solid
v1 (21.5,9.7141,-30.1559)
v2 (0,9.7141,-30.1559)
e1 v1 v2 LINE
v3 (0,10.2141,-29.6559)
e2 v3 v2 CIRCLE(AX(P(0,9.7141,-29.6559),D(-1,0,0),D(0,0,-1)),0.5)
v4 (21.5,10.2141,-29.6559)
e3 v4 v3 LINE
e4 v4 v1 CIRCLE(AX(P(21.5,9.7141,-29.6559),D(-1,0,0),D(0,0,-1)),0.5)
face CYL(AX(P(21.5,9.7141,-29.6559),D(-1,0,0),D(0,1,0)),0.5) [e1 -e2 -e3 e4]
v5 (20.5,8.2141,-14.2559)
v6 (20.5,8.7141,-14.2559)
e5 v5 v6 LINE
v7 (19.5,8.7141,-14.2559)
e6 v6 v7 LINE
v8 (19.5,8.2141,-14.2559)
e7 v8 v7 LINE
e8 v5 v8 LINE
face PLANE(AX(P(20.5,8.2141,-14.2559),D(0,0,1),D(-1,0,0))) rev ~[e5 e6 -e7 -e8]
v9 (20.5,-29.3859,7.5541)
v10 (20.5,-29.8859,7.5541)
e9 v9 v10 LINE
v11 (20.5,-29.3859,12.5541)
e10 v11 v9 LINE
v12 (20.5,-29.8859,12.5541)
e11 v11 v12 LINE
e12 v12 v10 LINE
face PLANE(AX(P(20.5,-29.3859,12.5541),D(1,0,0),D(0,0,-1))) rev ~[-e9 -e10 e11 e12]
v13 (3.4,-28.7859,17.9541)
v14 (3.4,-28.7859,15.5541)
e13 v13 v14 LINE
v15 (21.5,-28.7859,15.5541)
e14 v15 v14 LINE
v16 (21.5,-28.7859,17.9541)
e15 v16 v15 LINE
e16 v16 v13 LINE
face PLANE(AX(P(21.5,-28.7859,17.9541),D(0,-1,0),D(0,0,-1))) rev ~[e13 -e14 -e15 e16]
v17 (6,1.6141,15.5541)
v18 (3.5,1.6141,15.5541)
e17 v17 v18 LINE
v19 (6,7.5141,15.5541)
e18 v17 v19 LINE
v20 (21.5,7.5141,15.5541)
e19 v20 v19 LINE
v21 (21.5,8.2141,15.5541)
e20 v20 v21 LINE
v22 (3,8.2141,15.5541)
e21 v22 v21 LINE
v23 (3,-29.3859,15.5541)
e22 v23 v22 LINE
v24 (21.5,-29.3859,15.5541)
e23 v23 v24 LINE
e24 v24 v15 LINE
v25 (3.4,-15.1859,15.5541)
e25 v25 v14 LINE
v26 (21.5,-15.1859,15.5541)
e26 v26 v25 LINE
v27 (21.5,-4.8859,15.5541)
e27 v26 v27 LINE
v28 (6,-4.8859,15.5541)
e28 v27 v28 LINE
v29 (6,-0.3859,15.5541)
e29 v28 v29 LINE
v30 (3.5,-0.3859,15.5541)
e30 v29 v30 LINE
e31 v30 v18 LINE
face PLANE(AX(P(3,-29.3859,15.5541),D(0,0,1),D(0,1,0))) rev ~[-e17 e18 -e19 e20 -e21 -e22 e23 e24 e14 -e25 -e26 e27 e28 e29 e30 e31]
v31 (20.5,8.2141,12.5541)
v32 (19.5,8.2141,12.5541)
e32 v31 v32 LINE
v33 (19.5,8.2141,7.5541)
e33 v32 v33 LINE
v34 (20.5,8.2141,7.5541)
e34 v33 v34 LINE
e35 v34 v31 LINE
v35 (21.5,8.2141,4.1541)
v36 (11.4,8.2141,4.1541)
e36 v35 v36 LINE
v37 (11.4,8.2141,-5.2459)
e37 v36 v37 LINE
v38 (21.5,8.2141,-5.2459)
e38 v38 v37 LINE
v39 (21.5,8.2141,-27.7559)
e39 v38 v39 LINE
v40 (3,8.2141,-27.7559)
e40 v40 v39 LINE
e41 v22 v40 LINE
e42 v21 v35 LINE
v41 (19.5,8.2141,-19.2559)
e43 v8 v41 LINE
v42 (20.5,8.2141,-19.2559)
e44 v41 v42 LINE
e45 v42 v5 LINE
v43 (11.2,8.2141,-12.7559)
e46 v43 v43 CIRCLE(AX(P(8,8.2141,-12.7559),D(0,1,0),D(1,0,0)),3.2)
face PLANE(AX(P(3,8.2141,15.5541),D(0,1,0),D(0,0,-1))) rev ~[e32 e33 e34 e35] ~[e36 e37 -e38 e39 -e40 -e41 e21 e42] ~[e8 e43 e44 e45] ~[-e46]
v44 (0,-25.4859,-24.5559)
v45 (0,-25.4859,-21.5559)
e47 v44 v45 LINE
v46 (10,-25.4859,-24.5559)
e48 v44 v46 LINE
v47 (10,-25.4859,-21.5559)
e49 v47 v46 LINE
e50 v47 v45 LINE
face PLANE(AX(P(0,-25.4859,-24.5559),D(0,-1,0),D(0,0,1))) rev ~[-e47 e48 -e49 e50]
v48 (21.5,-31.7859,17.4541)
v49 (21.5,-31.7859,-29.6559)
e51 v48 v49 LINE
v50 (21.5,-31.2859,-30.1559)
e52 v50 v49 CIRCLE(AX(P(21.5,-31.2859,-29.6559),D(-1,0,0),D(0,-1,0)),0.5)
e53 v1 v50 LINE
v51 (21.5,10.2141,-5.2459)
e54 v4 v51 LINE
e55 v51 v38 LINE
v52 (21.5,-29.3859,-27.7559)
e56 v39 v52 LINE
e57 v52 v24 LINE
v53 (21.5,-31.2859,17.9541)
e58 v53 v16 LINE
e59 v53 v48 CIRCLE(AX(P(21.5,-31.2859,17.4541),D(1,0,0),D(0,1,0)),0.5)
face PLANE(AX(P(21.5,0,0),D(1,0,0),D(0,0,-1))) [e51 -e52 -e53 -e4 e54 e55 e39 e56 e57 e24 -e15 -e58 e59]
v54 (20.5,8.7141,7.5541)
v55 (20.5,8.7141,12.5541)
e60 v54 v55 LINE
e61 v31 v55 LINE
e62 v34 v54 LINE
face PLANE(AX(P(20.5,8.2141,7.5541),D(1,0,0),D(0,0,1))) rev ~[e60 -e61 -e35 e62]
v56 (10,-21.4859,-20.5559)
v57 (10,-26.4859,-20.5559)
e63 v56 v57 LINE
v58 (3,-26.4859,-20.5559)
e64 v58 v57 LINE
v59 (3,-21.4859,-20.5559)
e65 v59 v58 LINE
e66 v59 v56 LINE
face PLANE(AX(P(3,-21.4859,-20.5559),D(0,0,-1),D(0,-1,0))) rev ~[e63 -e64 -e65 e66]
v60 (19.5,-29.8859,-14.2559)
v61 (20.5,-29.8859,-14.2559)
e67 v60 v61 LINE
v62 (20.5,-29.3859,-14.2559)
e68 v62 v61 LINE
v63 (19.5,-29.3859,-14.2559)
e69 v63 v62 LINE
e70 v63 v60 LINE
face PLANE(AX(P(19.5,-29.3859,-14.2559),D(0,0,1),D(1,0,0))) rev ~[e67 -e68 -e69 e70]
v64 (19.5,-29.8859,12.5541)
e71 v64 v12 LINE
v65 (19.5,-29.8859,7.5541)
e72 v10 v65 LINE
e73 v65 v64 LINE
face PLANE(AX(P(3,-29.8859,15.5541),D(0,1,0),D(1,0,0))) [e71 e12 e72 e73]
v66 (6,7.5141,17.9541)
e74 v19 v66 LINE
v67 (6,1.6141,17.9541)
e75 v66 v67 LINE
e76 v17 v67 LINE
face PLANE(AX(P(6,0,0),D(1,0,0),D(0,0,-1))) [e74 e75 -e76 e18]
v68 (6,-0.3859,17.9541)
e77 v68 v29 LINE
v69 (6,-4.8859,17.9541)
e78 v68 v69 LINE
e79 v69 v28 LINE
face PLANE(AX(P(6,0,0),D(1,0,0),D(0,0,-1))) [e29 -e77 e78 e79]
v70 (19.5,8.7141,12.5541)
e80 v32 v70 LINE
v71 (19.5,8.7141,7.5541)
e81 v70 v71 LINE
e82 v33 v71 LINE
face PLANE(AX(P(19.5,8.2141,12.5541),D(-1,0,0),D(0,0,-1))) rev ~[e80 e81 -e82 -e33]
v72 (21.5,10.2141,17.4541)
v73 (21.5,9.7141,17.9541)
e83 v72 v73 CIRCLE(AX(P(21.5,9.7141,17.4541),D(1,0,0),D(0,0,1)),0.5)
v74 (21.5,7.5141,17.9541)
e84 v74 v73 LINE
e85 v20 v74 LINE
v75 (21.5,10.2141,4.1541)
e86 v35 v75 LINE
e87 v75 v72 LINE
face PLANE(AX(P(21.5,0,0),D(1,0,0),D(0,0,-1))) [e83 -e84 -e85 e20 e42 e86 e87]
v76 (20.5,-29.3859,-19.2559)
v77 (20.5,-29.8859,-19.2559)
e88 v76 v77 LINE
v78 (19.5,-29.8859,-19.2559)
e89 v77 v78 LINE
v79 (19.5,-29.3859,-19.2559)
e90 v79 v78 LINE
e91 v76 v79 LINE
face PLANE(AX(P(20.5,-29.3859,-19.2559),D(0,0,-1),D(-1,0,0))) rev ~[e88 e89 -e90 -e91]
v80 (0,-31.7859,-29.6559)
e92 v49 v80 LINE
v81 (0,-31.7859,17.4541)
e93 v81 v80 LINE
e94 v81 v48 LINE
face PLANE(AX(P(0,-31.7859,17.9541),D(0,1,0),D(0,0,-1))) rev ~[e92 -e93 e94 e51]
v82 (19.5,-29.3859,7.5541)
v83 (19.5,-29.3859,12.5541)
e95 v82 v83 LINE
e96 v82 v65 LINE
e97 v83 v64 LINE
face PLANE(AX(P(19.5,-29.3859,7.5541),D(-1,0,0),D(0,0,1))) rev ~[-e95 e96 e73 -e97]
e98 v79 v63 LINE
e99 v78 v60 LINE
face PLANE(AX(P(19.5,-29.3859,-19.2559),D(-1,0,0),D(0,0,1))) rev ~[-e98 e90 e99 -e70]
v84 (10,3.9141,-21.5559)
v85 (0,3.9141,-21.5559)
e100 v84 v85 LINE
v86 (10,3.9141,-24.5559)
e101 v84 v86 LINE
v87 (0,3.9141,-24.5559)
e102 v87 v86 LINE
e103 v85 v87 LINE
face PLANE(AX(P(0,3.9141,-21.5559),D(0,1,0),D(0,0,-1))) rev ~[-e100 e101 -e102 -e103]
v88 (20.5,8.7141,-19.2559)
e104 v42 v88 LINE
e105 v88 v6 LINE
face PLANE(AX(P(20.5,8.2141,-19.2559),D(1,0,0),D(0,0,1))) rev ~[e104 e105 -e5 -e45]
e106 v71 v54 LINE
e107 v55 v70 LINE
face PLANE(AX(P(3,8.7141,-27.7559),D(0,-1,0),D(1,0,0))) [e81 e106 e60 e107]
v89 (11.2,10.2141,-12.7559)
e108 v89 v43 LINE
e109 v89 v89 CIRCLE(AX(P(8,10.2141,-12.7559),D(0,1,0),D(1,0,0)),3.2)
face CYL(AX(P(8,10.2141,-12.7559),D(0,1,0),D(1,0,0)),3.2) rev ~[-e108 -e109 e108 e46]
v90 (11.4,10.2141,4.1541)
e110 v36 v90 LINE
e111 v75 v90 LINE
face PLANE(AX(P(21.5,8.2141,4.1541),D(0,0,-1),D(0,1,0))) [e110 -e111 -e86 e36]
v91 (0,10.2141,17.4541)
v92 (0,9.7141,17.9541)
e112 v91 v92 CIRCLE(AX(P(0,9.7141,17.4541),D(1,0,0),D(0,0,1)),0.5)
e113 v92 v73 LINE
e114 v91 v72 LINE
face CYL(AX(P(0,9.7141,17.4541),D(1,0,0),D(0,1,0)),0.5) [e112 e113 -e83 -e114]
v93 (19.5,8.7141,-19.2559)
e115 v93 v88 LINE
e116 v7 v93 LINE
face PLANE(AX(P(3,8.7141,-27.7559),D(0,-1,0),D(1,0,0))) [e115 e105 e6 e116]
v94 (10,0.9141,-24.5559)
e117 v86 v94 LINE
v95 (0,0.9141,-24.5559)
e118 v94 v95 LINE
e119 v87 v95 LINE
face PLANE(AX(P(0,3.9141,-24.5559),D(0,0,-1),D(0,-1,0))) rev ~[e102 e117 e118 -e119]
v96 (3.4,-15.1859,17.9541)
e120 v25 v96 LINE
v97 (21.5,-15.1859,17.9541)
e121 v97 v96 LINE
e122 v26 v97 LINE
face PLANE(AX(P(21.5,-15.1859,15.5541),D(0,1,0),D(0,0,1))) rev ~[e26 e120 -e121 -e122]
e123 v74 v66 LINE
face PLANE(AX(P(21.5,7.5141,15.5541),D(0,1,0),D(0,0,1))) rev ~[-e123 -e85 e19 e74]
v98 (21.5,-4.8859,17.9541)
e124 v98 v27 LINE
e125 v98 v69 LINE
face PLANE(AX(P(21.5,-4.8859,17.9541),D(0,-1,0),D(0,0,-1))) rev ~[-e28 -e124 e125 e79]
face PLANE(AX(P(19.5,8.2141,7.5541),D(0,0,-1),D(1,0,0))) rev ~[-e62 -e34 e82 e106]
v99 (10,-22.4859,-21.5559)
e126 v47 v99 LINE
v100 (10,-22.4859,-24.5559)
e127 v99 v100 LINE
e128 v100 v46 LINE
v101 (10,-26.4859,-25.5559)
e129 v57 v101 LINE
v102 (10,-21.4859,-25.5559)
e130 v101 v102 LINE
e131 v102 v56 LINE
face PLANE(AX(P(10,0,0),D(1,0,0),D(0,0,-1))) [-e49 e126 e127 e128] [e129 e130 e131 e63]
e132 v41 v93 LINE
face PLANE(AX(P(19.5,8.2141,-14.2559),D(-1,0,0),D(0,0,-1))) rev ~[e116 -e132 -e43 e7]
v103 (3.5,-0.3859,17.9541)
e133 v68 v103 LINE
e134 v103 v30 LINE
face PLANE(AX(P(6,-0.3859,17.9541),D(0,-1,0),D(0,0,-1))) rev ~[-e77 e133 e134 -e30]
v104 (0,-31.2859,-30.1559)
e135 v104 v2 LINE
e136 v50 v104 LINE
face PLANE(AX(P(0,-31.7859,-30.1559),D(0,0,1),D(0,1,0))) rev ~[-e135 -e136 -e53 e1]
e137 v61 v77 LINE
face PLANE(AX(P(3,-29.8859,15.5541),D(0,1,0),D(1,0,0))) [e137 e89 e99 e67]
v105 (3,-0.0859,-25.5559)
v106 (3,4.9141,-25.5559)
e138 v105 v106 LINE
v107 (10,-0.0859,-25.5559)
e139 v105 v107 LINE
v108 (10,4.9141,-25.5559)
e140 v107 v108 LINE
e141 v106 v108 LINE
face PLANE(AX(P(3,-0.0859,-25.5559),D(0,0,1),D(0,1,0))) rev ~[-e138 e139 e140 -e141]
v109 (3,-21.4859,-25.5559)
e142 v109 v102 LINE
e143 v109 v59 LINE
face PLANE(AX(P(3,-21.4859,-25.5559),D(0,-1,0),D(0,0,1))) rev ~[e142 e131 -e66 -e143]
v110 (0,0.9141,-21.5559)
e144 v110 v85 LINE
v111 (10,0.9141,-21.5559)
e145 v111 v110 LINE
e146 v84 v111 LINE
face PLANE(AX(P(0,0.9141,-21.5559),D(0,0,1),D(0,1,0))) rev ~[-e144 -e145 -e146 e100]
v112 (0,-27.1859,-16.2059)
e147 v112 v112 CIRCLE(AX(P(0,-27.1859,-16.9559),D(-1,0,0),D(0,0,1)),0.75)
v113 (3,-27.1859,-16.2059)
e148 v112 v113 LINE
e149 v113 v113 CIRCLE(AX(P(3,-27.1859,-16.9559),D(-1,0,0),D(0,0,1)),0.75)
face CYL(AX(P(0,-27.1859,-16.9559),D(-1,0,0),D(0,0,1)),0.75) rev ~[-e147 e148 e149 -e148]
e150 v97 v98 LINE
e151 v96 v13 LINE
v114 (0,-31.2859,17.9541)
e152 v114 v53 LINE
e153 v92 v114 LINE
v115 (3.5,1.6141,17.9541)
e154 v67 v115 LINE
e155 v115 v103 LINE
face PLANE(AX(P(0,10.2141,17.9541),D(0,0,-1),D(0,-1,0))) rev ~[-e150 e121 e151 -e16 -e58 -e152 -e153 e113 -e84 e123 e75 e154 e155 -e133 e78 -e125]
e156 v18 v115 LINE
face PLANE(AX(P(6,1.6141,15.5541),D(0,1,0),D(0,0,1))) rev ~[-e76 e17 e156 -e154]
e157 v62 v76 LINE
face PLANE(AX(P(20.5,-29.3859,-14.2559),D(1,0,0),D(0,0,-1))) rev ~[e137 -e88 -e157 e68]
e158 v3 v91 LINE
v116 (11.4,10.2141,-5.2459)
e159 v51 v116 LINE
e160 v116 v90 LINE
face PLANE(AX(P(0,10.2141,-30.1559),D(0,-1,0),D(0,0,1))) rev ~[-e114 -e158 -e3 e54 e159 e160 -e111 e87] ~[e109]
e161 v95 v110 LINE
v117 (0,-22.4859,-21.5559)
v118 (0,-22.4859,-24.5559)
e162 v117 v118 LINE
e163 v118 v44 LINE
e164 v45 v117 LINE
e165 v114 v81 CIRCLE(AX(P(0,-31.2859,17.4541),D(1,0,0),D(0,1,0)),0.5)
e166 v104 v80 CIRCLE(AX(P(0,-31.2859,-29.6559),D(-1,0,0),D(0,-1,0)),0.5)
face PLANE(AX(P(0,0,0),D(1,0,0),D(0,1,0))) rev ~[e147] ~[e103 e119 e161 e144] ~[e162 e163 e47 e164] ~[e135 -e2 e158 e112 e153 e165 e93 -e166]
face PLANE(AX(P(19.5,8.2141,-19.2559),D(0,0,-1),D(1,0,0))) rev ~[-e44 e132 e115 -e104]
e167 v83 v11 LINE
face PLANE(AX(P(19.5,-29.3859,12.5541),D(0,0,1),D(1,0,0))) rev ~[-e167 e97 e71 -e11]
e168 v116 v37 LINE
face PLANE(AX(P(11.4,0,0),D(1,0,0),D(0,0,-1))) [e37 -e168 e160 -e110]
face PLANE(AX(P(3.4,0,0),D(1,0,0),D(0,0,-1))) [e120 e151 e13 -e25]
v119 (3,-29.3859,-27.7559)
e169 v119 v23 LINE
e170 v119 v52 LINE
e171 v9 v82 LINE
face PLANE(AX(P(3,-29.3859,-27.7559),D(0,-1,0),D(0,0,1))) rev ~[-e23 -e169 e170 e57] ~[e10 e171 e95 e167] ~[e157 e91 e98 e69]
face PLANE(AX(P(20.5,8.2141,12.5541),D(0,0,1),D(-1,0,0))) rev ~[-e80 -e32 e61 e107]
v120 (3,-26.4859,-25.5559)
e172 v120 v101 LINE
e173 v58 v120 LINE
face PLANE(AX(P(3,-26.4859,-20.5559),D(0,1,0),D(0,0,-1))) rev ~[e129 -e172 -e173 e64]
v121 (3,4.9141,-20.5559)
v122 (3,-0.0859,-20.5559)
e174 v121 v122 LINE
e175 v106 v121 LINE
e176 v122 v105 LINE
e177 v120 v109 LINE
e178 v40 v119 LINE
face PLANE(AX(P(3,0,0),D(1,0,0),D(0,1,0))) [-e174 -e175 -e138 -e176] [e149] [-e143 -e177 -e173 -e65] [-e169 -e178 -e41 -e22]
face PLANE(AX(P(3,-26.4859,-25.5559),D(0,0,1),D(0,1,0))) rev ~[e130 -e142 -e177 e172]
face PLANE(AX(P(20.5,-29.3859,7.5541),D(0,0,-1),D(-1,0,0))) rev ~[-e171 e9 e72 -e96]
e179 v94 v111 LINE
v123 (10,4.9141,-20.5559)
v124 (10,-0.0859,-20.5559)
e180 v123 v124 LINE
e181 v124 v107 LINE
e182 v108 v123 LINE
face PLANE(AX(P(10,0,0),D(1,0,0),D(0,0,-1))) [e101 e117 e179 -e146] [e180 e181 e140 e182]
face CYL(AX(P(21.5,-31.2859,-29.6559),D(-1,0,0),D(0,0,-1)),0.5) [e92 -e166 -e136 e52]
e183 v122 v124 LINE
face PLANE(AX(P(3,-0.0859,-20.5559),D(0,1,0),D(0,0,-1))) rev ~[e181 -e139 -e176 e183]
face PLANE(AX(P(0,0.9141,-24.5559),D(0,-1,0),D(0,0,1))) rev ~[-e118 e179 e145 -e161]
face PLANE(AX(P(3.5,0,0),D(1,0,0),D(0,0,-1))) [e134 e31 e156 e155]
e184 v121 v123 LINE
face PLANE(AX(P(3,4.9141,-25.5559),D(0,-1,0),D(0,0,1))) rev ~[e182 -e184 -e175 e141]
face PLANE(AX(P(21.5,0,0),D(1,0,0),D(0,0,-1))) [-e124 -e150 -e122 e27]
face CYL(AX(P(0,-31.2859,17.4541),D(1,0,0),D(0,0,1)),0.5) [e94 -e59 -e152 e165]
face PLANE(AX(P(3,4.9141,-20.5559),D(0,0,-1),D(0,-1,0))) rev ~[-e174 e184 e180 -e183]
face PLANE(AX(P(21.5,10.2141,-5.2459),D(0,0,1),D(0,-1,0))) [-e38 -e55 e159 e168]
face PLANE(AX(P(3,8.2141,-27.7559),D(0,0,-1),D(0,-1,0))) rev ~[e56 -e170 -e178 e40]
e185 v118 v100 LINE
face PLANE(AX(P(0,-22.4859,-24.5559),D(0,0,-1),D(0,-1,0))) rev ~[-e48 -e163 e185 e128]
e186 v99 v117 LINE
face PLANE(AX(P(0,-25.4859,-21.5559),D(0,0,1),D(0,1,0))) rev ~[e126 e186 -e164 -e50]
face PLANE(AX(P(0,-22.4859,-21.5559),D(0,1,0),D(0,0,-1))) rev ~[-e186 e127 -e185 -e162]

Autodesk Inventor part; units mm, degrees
ref_plane "YZ Plane" through (0, 0, 0) normal (1, 0, 0) x (0, 1, 0)
ref_plane "XZ Plane" through (0, 0, 0) normal (0, 1, 0) x (-1, 0, 0)
ref_plane "XY Plane" through (0, 0, 0) normal (0, 0, 1) x (1, 0, 0)
sketch "Sketch1" plane through (0, 0, 0) normal (1, 0, 0) x (0, 1, 0)
  line L0 (10.2141, 17.9541) -> (-31.7859, 17.9541)
  line L1 (-31.7859, 17.9541) -> (-31.7859, -30.1559)
  line L2 (-31.7859, -30.1559) -> (10.2141, -30.1559)
  line L3 (10.2141, -30.1559) -> (10.2141, 17.9541)
  point P0 (0, 0)
  dimension "d0" = 42
  dimension "d1" = 48.11
extrude "BasePlate" add sketch "Sketch1" along normal blind 3
sketch "Sketch2" plane through (3, 0, 0) normal (1, 0, 0) x (0, 0, -1)
  point P0 (0, 0)
sketch "Sketch3" plane through (3, 0, 0) normal (1, 0, 0) x (0, 0, -1)
  line L0 (30.1559, 10.2141) -> (-17.9541, 10.2141) projected
  line L1 (-17.9541, -31.7859) -> (30.1559, -31.7859) projected
  line L2 (-17.9541, 10.2141) -> (30.1559, 10.2141)
  line L3 (30.1559, 10.2141) -> (30.1559, -31.7859)
  line L4 (30.1559, -31.7859) -> (-17.9541, -31.7859)
  line L5 (-17.9541, -31.7859) -> (-17.9541, 10.2141)
  line L6 (-15.5541, 8.2141) -> (27.7559, 8.2141)
  line L7 (27.7559, 8.2141) -> (27.7559, -29.3859)
  line L8 (27.7559, -29.3859) -> (-15.5541, -29.3859)
  line L9 (-15.5541, -29.3859) -> (-15.5541, 8.2141)
  point P0 (0, 0)
  point P1 (-17.9541, -10.7859)
  dimension "d4" = 2
  dimension "d5" = 2.4
  dimension "d6" = 2.4
  dimension "d7" = 2.4
extrude "Walls" add sketch "Sketch3" along normal blind 18.5
sketch "Sketch4" plane through (21.5, 0, 0) normal (1, 0, 0) x (0, 0, -1)
  line L0 (30.1559, 10.2141) -> (-17.9541, 10.2141) projected
  line L1 (-15.5541, 8.2141) -> (27.7559, 8.2141) projected
  line L2 (-4.1541, 10.2141) -> (5.2459, 10.2141)
  line L3 (5.2459, 10.2141) -> (5.2459, 8.2141)
  line L4 (5.2459, 8.2141) -> (-4.1541, 8.2141)
  line L5 (-4.1541, 8.2141) -> (-4.1541, 10.2141)
  line L6 (-17.9541, 10.2141) -> (-17.9541, -31.7859) projected
  point P0 (0, 0)
  point P1 (-4.1541, 9.2141)
  point P2 (5.2459, 10.2141)
  dimension "d10" = 9.4
  dimension "d11" = 13.8
extrude "USB-C" cut sketch "Sketch4" against normal blind 10.1
sketch "Sketch5" plane through (21.5, 0, 0) normal (1, 0, 0) x (0, 0, -1)
  line L0 (-17.9541, 10.2141) -> (-17.9541, -31.7859) projected
  line L1 (-15.5541, -29.3859) -> (-15.5541, 8.2141) projected
  line L2 (-17.9541, -4.8859) -> (-15.5541, -4.8859)
  line L3 (-15.5541, -4.8859) -> (-15.5541, 7.5141)
  line L4 (-15.5541, 7.5141) -> (-17.9541, 7.5141)
  line L5 (-17.9541, 7.5141) -> (-17.9541, -4.8859)
  line L6 (-4.1541, 10.2141) -> (-17.9541, 10.2141) projected
  point P0 (0, 0)
  point P1 (-16.7541, 7.5141)
  point P2 (-17.9541, 7.5141)
  point P3 (-15.5541, -4.8859)
  dimension "d14" = 12.4
  dimension "d15" = 2.7
extrude "PowerConnector1" cut sketch "Sketch5" against normal blind 15.5
sketch "Sketch6" plane through (6, 0, 0) normal (1, 0, 0) x (0, 0, -1)
  line L0 (-17.9541, 10.2141) -> (-17.9541, -31.7859) projected
  line L1 (-17.9541, -0.3859) -> (-15.5541, -0.3859)
  line L2 (-15.5541, -0.3859) -> (-15.5541, 1.6141)
  line L3 (-15.5541, 1.6141) -> (-17.9541, 1.6141)
  line L4 (-17.9541, 1.6141) -> (-17.9541, -0.3859)
  line L5 (-17.9541, 7.5141) -> (-15.5541, 7.5141) projected
  point P0 (0, 0)
  dimension "d18" = 2.4
  dimension "d19" = 2
  dimension "d20" = 5.9
extrude "PowerConnector2" cut sketch "Sketch6" against normal blind 2.5
sketch "Sketch8" plane through (21.5, 0, 0) normal (1, 0, 0) x (0, 0, -1)
  line L0 (-17.9541, 10.2141) -> (-17.9541, -31.7859) projected
  line L1 (-15.5541, 8.2141) -> (-15.5541, -29.3859) projected
  line L2 (-17.9541, -28.7859) -> (-15.5541, -28.7859)
  line L3 (-15.5541, -28.7859) -> (-15.5541, -15.1859)
  line L4 (-15.5541, -15.1859) -> (-17.9541, -15.1859)
  line L5 (-17.9541, -15.1859) -> (-17.9541, -28.7859)
  line L6 (-17.9541, -31.7859) -> (30.1559, -31.7859) projected
  point P0 (0, 0)
  dimension "d23" = 13.6
  dimension "d24" = 3
extrude "RJ-12" cut sketch "Sketch8" against normal blind 18.1
fillet "Fillet1" radius 0.5 4 edges at (10.75, 10.2141, 17.9541) (10.75, -31.7859, 17.9541) (10.75, 10.2141, -30.1559) (10.75, -31.7859, -30.1559)
sketch "Sketch9" plane through (0, 0, 0) normal (-1, 0, 0) x (0, 0, 1)
  line L0 (-24.5559, -25.4859) -> (-21.5559, -25.4859)
  line L1 (-21.5559, -25.4859) -> (-21.5559, -22.4859)
  line L2 (-21.5559, -22.4859) -> (-24.5559, -22.4859)
  line L3 (-24.5559, -22.4859) -> (-24.5559, -25.4859)
  line L4 (-30.1559, -31.2859) -> (-30.1559, 9.7141) projected
  line L5 (17.4541, -31.7859) -> (-29.6559, -31.7859) projected
  point P0 (0, 0)
  point P1 (-24.5559, -23.9859)
  dimension "d28" = 3
  dimension "d29" = 3
  dimension "d30" = 5.6
  dimension "d31" = 6.3
extrude "ZBButton" cut sketch "Sketch9" against normal blind 3
sketch "Sketch10" plane through (0, 0, 0) normal (-1, 0, 0) x (0, 0, 1)
  line L0 (-24.5559, 0.9141) -> (-21.5559, 0.9141)
  line L1 (-21.5559, 0.9141) -> (-21.5559, 3.9141)
  line L2 (-21.5559, 3.9141) -> (-24.5559, 3.9141)
  line L3 (-24.5559, 3.9141) -> (-24.5559, 0.9141)
  line L4 (-30.1559, -31.2859) -> (-30.1559, 9.7141) projected
  line L5 (-29.6559, 10.2141) -> (17.4541, 10.2141) projected
  point P0 (0, 0)
  point P1 (-24.5559, 2.4141)
  dimension "d34" = 3
  dimension "d35" = 3
  dimension "d36" = 5.6
  dimension "d37" = 6.3
extrude "ResetButton" cut sketch "Sketch10" against normal blind 3
sketch "Sketch11" plane through (3, 0, 0) normal (1, 0, 0) x (0, 0, -1)
  line L0 (25.5559, 4.9141) -> (20.5559, 4.9141)
  line L1 (20.5559, 4.9141) -> (20.5559, -0.0859)
  line L2 (20.5559, -0.0859) -> (25.5559, -0.0859)
  line L3 (25.5559, -0.0859) -> (25.5559, 4.9141)
  line L4 (21.5559, 3.9141) -> (24.5559, 3.9141) projected
  line L5 (24.5559, 3.9141) -> (24.5559, 0.9141) projected
  line L6 (25.5559, -21.4859) -> (20.5559, -21.4859)
  line L7 (20.5559, -21.4859) -> (20.5559, -26.4859)
  line L8 (20.5559, -26.4859) -> (25.5559, -26.4859)
  line L9 (25.5559, -26.4859) -> (25.5559, -21.4859)
  line L10 (24.5559, -22.4859) -> (24.5559, -25.4859) projected
  line L11 (21.5559, -22.4859) -> (24.5559, -22.4859) projected
  line L12 (24.5559, 0.9141) -> (21.5559, 0.9141) projected
  line L13 (24.5559, 3.9141) -> (21.5559, 3.9141)
  line L14 (21.5559, 3.9141) -> (21.5559, 0.9141)
  line L15 (21.5559, 0.9141) -> (24.5559, 0.9141)
  line L16 (24.5559, 0.9141) -> (24.5559, 3.9141)
  line L17 (21.5559, -25.4859) -> (21.5559, -22.4859) projected
  line L18 (24.5559, -22.4859) -> (21.5559, -22.4859)
  line L19 (21.5559, -22.4859) -> (21.5559, -25.4859)
  line L20 (21.5559, -25.4859) -> (24.5559, -25.4859)
  line L21 (24.5559, -25.4859) -> (24.5559, -22.4859)
  point P0 (0, 0)
  point P1 (23.0559, -22.4859)
  dimension "d40" = 5
  dimension "d41" = 5
  dimension "d42" = 1
  dimension "d43" = 1
  dimension "d44" = 5
  dimension "d45" = 5
  dimension "d46" = 1
  dimension "d47" = 1
extrude "ButtonFuehrung" add sketch "Sketch11" along normal blind 7
sketch "Sketch12" plane through (0, 0, 0) normal (-1, 0, 0) x (0, 0, 1)
  circle A0 centre (-16.9559, -27.1859) radius 0.75
  line L0 (17.4541, -31.7859) -> (-29.6559, -31.7859) projected
  line L1 (-30.1559, -31.2859) -> (-30.1559, 9.7141) projected
  point P0 (0, 0)
  dimension "d50" = 1.5
  dimension "d51" = 4.6
  dimension "d52" = 13.2
extrude "LED" cut sketch "Sketch12" against normal blind 3
sketch "Sketch13" plane through (11.4, 10.2141, 4.1541) normal (0, 1, 0) x (1, 0, 0)
  circle A0 centre (-3.4, 16.91) radius 3.2
  line L0 (-11.4, 33.81) -> (-11.4, -13.3) projected
  line L1 (10.1, 34.31) -> (-11.4, 34.31) projected
  point P0 (-11.4, 4.1541)
  dimension "d55" = 6.4
  dimension "d56" = 8
  dimension "d57" = 17.4
extrude "Antenna" cut sketch "Sketch13" against normal blind 2
sketch "Sketch14" plane through (3, 8.2141, -27.7559) normal (0, -1, 0) x (1, 0, 0)
  line L0 (17.5, 40.31) -> (16.5, 40.31)
  line L1 (16.5, 40.31) -> (16.5, 35.31)
  line L2 (16.5, 35.31) -> (17.5, 35.31)
  line L3 (17.5, 35.31) -> (17.5, 40.31)
  line L4 (18.5, 43.31) -> (18.5, 31.91) projected
  point P0 (-3, 27.7559)
  point P1 (17.5, 37.81)
  dimension "d60" = 1
  dimension "d61" = 5
  dimension "d62" = 1
  dimension "d63" = 5.5
extrude "Extrusion12" cut sketch "Sketch14" against normal blind 0.5
sketch "Sketch15" plane through (3, 8.2141, -27.7559) normal (0, -1, 0) x (1, 0, 0)
  line L0 (17.5, 13.5) -> (16.5, 13.5)
  line L1 (16.5, 13.5) -> (16.5, 8.5)
  line L2 (16.5, 8.5) -> (17.5, 8.5)
  line L3 (17.5, 8.5) -> (17.5, 13.5)
  line L4 (18.5, 22.51) -> (18.5, 0) projected
  line L5 (0, 0) -> (18.5, 0) projected
  point P0 (-3, 27.7559)
  point P1 (17.5, 11)
  dimension "d66" = 1
  dimension "d67" = 5
  dimension "d68" = 1
  dimension "d69" = 11
extrude "Extrusion13" cut sketch "Sketch15" against normal blind 0.5
sketch "Sketch16" plane through (3, -29.3859, 15.5541) normal (0, 1, 0) x (1, 0, 0)
  line L0 (17.5, 8) -> (16.5, 8)
  line L1 (16.5, 8) -> (16.5, 3)
  line L2 (16.5, 3) -> (17.5, 3)
  line L3 (17.5, 3) -> (17.5, 8)
  line L4 (18.5, 43.31) -> (18.5, 0) projected
  line L5 (0, 0) -> (18.5, 0) projected
  point P0 (-3, 15.5541)
  point P1 (17.5, 5.5)
  dimension "d72" = 1
  dimension "d73" = 5
  dimension "d74" = 1
  dimension "d75" = 5.5
extrude "Extrusion14" cut sketch "Sketch16" against normal blind 0.5
sketch "Sketch17" plane through (3, -29.3859, 15.5541) normal (0, 1, 0) x (1, 0, 0)
  line L0 (17.5, 34.81) -> (16.5, 34.81)
  line L1 (16.5, 34.81) -> (16.5, 29.81)
  line L2 (16.5, 29.81) -> (17.5, 29.81)
  line L3 (17.5, 29.81) -> (17.5, 34.81)
  line L4 (18.5, 43.31) -> (18.5, 0) projected
  line L5 (0, 43.31) -> (18.5, 43.31) projected
  point P0 (-3, 15.5541)
  point P1 (17.5, 32.31)
  dimension "d78" = 1
  dimension "d79" = 5
  dimension "d80" = 1
  dimension "d81" = 11
extrude "Extrusion15" cut sketch "Sketch17" against normal blind 0.5
equation "\"BendRadius\" = Thickness"
equation "\"BendReliefWidth\" = Thickness"
equation "\"BendReliefDepth\" = 0.5 * Thickness"
equation "\"CornerReliefSize\" = 4 * Thickness"
equation "\"MinimumRemnant\" = 2 * Thickness"
equation "\"TransitionRadius\" = BendRadius"
equation "\"JacobiRadiusSize\" = BendRadius"
equation "\"GapSize\" = Thickness"
equation "\"Thickness\" = 0.5"
properties part number "Enclosure_Top_v2"
